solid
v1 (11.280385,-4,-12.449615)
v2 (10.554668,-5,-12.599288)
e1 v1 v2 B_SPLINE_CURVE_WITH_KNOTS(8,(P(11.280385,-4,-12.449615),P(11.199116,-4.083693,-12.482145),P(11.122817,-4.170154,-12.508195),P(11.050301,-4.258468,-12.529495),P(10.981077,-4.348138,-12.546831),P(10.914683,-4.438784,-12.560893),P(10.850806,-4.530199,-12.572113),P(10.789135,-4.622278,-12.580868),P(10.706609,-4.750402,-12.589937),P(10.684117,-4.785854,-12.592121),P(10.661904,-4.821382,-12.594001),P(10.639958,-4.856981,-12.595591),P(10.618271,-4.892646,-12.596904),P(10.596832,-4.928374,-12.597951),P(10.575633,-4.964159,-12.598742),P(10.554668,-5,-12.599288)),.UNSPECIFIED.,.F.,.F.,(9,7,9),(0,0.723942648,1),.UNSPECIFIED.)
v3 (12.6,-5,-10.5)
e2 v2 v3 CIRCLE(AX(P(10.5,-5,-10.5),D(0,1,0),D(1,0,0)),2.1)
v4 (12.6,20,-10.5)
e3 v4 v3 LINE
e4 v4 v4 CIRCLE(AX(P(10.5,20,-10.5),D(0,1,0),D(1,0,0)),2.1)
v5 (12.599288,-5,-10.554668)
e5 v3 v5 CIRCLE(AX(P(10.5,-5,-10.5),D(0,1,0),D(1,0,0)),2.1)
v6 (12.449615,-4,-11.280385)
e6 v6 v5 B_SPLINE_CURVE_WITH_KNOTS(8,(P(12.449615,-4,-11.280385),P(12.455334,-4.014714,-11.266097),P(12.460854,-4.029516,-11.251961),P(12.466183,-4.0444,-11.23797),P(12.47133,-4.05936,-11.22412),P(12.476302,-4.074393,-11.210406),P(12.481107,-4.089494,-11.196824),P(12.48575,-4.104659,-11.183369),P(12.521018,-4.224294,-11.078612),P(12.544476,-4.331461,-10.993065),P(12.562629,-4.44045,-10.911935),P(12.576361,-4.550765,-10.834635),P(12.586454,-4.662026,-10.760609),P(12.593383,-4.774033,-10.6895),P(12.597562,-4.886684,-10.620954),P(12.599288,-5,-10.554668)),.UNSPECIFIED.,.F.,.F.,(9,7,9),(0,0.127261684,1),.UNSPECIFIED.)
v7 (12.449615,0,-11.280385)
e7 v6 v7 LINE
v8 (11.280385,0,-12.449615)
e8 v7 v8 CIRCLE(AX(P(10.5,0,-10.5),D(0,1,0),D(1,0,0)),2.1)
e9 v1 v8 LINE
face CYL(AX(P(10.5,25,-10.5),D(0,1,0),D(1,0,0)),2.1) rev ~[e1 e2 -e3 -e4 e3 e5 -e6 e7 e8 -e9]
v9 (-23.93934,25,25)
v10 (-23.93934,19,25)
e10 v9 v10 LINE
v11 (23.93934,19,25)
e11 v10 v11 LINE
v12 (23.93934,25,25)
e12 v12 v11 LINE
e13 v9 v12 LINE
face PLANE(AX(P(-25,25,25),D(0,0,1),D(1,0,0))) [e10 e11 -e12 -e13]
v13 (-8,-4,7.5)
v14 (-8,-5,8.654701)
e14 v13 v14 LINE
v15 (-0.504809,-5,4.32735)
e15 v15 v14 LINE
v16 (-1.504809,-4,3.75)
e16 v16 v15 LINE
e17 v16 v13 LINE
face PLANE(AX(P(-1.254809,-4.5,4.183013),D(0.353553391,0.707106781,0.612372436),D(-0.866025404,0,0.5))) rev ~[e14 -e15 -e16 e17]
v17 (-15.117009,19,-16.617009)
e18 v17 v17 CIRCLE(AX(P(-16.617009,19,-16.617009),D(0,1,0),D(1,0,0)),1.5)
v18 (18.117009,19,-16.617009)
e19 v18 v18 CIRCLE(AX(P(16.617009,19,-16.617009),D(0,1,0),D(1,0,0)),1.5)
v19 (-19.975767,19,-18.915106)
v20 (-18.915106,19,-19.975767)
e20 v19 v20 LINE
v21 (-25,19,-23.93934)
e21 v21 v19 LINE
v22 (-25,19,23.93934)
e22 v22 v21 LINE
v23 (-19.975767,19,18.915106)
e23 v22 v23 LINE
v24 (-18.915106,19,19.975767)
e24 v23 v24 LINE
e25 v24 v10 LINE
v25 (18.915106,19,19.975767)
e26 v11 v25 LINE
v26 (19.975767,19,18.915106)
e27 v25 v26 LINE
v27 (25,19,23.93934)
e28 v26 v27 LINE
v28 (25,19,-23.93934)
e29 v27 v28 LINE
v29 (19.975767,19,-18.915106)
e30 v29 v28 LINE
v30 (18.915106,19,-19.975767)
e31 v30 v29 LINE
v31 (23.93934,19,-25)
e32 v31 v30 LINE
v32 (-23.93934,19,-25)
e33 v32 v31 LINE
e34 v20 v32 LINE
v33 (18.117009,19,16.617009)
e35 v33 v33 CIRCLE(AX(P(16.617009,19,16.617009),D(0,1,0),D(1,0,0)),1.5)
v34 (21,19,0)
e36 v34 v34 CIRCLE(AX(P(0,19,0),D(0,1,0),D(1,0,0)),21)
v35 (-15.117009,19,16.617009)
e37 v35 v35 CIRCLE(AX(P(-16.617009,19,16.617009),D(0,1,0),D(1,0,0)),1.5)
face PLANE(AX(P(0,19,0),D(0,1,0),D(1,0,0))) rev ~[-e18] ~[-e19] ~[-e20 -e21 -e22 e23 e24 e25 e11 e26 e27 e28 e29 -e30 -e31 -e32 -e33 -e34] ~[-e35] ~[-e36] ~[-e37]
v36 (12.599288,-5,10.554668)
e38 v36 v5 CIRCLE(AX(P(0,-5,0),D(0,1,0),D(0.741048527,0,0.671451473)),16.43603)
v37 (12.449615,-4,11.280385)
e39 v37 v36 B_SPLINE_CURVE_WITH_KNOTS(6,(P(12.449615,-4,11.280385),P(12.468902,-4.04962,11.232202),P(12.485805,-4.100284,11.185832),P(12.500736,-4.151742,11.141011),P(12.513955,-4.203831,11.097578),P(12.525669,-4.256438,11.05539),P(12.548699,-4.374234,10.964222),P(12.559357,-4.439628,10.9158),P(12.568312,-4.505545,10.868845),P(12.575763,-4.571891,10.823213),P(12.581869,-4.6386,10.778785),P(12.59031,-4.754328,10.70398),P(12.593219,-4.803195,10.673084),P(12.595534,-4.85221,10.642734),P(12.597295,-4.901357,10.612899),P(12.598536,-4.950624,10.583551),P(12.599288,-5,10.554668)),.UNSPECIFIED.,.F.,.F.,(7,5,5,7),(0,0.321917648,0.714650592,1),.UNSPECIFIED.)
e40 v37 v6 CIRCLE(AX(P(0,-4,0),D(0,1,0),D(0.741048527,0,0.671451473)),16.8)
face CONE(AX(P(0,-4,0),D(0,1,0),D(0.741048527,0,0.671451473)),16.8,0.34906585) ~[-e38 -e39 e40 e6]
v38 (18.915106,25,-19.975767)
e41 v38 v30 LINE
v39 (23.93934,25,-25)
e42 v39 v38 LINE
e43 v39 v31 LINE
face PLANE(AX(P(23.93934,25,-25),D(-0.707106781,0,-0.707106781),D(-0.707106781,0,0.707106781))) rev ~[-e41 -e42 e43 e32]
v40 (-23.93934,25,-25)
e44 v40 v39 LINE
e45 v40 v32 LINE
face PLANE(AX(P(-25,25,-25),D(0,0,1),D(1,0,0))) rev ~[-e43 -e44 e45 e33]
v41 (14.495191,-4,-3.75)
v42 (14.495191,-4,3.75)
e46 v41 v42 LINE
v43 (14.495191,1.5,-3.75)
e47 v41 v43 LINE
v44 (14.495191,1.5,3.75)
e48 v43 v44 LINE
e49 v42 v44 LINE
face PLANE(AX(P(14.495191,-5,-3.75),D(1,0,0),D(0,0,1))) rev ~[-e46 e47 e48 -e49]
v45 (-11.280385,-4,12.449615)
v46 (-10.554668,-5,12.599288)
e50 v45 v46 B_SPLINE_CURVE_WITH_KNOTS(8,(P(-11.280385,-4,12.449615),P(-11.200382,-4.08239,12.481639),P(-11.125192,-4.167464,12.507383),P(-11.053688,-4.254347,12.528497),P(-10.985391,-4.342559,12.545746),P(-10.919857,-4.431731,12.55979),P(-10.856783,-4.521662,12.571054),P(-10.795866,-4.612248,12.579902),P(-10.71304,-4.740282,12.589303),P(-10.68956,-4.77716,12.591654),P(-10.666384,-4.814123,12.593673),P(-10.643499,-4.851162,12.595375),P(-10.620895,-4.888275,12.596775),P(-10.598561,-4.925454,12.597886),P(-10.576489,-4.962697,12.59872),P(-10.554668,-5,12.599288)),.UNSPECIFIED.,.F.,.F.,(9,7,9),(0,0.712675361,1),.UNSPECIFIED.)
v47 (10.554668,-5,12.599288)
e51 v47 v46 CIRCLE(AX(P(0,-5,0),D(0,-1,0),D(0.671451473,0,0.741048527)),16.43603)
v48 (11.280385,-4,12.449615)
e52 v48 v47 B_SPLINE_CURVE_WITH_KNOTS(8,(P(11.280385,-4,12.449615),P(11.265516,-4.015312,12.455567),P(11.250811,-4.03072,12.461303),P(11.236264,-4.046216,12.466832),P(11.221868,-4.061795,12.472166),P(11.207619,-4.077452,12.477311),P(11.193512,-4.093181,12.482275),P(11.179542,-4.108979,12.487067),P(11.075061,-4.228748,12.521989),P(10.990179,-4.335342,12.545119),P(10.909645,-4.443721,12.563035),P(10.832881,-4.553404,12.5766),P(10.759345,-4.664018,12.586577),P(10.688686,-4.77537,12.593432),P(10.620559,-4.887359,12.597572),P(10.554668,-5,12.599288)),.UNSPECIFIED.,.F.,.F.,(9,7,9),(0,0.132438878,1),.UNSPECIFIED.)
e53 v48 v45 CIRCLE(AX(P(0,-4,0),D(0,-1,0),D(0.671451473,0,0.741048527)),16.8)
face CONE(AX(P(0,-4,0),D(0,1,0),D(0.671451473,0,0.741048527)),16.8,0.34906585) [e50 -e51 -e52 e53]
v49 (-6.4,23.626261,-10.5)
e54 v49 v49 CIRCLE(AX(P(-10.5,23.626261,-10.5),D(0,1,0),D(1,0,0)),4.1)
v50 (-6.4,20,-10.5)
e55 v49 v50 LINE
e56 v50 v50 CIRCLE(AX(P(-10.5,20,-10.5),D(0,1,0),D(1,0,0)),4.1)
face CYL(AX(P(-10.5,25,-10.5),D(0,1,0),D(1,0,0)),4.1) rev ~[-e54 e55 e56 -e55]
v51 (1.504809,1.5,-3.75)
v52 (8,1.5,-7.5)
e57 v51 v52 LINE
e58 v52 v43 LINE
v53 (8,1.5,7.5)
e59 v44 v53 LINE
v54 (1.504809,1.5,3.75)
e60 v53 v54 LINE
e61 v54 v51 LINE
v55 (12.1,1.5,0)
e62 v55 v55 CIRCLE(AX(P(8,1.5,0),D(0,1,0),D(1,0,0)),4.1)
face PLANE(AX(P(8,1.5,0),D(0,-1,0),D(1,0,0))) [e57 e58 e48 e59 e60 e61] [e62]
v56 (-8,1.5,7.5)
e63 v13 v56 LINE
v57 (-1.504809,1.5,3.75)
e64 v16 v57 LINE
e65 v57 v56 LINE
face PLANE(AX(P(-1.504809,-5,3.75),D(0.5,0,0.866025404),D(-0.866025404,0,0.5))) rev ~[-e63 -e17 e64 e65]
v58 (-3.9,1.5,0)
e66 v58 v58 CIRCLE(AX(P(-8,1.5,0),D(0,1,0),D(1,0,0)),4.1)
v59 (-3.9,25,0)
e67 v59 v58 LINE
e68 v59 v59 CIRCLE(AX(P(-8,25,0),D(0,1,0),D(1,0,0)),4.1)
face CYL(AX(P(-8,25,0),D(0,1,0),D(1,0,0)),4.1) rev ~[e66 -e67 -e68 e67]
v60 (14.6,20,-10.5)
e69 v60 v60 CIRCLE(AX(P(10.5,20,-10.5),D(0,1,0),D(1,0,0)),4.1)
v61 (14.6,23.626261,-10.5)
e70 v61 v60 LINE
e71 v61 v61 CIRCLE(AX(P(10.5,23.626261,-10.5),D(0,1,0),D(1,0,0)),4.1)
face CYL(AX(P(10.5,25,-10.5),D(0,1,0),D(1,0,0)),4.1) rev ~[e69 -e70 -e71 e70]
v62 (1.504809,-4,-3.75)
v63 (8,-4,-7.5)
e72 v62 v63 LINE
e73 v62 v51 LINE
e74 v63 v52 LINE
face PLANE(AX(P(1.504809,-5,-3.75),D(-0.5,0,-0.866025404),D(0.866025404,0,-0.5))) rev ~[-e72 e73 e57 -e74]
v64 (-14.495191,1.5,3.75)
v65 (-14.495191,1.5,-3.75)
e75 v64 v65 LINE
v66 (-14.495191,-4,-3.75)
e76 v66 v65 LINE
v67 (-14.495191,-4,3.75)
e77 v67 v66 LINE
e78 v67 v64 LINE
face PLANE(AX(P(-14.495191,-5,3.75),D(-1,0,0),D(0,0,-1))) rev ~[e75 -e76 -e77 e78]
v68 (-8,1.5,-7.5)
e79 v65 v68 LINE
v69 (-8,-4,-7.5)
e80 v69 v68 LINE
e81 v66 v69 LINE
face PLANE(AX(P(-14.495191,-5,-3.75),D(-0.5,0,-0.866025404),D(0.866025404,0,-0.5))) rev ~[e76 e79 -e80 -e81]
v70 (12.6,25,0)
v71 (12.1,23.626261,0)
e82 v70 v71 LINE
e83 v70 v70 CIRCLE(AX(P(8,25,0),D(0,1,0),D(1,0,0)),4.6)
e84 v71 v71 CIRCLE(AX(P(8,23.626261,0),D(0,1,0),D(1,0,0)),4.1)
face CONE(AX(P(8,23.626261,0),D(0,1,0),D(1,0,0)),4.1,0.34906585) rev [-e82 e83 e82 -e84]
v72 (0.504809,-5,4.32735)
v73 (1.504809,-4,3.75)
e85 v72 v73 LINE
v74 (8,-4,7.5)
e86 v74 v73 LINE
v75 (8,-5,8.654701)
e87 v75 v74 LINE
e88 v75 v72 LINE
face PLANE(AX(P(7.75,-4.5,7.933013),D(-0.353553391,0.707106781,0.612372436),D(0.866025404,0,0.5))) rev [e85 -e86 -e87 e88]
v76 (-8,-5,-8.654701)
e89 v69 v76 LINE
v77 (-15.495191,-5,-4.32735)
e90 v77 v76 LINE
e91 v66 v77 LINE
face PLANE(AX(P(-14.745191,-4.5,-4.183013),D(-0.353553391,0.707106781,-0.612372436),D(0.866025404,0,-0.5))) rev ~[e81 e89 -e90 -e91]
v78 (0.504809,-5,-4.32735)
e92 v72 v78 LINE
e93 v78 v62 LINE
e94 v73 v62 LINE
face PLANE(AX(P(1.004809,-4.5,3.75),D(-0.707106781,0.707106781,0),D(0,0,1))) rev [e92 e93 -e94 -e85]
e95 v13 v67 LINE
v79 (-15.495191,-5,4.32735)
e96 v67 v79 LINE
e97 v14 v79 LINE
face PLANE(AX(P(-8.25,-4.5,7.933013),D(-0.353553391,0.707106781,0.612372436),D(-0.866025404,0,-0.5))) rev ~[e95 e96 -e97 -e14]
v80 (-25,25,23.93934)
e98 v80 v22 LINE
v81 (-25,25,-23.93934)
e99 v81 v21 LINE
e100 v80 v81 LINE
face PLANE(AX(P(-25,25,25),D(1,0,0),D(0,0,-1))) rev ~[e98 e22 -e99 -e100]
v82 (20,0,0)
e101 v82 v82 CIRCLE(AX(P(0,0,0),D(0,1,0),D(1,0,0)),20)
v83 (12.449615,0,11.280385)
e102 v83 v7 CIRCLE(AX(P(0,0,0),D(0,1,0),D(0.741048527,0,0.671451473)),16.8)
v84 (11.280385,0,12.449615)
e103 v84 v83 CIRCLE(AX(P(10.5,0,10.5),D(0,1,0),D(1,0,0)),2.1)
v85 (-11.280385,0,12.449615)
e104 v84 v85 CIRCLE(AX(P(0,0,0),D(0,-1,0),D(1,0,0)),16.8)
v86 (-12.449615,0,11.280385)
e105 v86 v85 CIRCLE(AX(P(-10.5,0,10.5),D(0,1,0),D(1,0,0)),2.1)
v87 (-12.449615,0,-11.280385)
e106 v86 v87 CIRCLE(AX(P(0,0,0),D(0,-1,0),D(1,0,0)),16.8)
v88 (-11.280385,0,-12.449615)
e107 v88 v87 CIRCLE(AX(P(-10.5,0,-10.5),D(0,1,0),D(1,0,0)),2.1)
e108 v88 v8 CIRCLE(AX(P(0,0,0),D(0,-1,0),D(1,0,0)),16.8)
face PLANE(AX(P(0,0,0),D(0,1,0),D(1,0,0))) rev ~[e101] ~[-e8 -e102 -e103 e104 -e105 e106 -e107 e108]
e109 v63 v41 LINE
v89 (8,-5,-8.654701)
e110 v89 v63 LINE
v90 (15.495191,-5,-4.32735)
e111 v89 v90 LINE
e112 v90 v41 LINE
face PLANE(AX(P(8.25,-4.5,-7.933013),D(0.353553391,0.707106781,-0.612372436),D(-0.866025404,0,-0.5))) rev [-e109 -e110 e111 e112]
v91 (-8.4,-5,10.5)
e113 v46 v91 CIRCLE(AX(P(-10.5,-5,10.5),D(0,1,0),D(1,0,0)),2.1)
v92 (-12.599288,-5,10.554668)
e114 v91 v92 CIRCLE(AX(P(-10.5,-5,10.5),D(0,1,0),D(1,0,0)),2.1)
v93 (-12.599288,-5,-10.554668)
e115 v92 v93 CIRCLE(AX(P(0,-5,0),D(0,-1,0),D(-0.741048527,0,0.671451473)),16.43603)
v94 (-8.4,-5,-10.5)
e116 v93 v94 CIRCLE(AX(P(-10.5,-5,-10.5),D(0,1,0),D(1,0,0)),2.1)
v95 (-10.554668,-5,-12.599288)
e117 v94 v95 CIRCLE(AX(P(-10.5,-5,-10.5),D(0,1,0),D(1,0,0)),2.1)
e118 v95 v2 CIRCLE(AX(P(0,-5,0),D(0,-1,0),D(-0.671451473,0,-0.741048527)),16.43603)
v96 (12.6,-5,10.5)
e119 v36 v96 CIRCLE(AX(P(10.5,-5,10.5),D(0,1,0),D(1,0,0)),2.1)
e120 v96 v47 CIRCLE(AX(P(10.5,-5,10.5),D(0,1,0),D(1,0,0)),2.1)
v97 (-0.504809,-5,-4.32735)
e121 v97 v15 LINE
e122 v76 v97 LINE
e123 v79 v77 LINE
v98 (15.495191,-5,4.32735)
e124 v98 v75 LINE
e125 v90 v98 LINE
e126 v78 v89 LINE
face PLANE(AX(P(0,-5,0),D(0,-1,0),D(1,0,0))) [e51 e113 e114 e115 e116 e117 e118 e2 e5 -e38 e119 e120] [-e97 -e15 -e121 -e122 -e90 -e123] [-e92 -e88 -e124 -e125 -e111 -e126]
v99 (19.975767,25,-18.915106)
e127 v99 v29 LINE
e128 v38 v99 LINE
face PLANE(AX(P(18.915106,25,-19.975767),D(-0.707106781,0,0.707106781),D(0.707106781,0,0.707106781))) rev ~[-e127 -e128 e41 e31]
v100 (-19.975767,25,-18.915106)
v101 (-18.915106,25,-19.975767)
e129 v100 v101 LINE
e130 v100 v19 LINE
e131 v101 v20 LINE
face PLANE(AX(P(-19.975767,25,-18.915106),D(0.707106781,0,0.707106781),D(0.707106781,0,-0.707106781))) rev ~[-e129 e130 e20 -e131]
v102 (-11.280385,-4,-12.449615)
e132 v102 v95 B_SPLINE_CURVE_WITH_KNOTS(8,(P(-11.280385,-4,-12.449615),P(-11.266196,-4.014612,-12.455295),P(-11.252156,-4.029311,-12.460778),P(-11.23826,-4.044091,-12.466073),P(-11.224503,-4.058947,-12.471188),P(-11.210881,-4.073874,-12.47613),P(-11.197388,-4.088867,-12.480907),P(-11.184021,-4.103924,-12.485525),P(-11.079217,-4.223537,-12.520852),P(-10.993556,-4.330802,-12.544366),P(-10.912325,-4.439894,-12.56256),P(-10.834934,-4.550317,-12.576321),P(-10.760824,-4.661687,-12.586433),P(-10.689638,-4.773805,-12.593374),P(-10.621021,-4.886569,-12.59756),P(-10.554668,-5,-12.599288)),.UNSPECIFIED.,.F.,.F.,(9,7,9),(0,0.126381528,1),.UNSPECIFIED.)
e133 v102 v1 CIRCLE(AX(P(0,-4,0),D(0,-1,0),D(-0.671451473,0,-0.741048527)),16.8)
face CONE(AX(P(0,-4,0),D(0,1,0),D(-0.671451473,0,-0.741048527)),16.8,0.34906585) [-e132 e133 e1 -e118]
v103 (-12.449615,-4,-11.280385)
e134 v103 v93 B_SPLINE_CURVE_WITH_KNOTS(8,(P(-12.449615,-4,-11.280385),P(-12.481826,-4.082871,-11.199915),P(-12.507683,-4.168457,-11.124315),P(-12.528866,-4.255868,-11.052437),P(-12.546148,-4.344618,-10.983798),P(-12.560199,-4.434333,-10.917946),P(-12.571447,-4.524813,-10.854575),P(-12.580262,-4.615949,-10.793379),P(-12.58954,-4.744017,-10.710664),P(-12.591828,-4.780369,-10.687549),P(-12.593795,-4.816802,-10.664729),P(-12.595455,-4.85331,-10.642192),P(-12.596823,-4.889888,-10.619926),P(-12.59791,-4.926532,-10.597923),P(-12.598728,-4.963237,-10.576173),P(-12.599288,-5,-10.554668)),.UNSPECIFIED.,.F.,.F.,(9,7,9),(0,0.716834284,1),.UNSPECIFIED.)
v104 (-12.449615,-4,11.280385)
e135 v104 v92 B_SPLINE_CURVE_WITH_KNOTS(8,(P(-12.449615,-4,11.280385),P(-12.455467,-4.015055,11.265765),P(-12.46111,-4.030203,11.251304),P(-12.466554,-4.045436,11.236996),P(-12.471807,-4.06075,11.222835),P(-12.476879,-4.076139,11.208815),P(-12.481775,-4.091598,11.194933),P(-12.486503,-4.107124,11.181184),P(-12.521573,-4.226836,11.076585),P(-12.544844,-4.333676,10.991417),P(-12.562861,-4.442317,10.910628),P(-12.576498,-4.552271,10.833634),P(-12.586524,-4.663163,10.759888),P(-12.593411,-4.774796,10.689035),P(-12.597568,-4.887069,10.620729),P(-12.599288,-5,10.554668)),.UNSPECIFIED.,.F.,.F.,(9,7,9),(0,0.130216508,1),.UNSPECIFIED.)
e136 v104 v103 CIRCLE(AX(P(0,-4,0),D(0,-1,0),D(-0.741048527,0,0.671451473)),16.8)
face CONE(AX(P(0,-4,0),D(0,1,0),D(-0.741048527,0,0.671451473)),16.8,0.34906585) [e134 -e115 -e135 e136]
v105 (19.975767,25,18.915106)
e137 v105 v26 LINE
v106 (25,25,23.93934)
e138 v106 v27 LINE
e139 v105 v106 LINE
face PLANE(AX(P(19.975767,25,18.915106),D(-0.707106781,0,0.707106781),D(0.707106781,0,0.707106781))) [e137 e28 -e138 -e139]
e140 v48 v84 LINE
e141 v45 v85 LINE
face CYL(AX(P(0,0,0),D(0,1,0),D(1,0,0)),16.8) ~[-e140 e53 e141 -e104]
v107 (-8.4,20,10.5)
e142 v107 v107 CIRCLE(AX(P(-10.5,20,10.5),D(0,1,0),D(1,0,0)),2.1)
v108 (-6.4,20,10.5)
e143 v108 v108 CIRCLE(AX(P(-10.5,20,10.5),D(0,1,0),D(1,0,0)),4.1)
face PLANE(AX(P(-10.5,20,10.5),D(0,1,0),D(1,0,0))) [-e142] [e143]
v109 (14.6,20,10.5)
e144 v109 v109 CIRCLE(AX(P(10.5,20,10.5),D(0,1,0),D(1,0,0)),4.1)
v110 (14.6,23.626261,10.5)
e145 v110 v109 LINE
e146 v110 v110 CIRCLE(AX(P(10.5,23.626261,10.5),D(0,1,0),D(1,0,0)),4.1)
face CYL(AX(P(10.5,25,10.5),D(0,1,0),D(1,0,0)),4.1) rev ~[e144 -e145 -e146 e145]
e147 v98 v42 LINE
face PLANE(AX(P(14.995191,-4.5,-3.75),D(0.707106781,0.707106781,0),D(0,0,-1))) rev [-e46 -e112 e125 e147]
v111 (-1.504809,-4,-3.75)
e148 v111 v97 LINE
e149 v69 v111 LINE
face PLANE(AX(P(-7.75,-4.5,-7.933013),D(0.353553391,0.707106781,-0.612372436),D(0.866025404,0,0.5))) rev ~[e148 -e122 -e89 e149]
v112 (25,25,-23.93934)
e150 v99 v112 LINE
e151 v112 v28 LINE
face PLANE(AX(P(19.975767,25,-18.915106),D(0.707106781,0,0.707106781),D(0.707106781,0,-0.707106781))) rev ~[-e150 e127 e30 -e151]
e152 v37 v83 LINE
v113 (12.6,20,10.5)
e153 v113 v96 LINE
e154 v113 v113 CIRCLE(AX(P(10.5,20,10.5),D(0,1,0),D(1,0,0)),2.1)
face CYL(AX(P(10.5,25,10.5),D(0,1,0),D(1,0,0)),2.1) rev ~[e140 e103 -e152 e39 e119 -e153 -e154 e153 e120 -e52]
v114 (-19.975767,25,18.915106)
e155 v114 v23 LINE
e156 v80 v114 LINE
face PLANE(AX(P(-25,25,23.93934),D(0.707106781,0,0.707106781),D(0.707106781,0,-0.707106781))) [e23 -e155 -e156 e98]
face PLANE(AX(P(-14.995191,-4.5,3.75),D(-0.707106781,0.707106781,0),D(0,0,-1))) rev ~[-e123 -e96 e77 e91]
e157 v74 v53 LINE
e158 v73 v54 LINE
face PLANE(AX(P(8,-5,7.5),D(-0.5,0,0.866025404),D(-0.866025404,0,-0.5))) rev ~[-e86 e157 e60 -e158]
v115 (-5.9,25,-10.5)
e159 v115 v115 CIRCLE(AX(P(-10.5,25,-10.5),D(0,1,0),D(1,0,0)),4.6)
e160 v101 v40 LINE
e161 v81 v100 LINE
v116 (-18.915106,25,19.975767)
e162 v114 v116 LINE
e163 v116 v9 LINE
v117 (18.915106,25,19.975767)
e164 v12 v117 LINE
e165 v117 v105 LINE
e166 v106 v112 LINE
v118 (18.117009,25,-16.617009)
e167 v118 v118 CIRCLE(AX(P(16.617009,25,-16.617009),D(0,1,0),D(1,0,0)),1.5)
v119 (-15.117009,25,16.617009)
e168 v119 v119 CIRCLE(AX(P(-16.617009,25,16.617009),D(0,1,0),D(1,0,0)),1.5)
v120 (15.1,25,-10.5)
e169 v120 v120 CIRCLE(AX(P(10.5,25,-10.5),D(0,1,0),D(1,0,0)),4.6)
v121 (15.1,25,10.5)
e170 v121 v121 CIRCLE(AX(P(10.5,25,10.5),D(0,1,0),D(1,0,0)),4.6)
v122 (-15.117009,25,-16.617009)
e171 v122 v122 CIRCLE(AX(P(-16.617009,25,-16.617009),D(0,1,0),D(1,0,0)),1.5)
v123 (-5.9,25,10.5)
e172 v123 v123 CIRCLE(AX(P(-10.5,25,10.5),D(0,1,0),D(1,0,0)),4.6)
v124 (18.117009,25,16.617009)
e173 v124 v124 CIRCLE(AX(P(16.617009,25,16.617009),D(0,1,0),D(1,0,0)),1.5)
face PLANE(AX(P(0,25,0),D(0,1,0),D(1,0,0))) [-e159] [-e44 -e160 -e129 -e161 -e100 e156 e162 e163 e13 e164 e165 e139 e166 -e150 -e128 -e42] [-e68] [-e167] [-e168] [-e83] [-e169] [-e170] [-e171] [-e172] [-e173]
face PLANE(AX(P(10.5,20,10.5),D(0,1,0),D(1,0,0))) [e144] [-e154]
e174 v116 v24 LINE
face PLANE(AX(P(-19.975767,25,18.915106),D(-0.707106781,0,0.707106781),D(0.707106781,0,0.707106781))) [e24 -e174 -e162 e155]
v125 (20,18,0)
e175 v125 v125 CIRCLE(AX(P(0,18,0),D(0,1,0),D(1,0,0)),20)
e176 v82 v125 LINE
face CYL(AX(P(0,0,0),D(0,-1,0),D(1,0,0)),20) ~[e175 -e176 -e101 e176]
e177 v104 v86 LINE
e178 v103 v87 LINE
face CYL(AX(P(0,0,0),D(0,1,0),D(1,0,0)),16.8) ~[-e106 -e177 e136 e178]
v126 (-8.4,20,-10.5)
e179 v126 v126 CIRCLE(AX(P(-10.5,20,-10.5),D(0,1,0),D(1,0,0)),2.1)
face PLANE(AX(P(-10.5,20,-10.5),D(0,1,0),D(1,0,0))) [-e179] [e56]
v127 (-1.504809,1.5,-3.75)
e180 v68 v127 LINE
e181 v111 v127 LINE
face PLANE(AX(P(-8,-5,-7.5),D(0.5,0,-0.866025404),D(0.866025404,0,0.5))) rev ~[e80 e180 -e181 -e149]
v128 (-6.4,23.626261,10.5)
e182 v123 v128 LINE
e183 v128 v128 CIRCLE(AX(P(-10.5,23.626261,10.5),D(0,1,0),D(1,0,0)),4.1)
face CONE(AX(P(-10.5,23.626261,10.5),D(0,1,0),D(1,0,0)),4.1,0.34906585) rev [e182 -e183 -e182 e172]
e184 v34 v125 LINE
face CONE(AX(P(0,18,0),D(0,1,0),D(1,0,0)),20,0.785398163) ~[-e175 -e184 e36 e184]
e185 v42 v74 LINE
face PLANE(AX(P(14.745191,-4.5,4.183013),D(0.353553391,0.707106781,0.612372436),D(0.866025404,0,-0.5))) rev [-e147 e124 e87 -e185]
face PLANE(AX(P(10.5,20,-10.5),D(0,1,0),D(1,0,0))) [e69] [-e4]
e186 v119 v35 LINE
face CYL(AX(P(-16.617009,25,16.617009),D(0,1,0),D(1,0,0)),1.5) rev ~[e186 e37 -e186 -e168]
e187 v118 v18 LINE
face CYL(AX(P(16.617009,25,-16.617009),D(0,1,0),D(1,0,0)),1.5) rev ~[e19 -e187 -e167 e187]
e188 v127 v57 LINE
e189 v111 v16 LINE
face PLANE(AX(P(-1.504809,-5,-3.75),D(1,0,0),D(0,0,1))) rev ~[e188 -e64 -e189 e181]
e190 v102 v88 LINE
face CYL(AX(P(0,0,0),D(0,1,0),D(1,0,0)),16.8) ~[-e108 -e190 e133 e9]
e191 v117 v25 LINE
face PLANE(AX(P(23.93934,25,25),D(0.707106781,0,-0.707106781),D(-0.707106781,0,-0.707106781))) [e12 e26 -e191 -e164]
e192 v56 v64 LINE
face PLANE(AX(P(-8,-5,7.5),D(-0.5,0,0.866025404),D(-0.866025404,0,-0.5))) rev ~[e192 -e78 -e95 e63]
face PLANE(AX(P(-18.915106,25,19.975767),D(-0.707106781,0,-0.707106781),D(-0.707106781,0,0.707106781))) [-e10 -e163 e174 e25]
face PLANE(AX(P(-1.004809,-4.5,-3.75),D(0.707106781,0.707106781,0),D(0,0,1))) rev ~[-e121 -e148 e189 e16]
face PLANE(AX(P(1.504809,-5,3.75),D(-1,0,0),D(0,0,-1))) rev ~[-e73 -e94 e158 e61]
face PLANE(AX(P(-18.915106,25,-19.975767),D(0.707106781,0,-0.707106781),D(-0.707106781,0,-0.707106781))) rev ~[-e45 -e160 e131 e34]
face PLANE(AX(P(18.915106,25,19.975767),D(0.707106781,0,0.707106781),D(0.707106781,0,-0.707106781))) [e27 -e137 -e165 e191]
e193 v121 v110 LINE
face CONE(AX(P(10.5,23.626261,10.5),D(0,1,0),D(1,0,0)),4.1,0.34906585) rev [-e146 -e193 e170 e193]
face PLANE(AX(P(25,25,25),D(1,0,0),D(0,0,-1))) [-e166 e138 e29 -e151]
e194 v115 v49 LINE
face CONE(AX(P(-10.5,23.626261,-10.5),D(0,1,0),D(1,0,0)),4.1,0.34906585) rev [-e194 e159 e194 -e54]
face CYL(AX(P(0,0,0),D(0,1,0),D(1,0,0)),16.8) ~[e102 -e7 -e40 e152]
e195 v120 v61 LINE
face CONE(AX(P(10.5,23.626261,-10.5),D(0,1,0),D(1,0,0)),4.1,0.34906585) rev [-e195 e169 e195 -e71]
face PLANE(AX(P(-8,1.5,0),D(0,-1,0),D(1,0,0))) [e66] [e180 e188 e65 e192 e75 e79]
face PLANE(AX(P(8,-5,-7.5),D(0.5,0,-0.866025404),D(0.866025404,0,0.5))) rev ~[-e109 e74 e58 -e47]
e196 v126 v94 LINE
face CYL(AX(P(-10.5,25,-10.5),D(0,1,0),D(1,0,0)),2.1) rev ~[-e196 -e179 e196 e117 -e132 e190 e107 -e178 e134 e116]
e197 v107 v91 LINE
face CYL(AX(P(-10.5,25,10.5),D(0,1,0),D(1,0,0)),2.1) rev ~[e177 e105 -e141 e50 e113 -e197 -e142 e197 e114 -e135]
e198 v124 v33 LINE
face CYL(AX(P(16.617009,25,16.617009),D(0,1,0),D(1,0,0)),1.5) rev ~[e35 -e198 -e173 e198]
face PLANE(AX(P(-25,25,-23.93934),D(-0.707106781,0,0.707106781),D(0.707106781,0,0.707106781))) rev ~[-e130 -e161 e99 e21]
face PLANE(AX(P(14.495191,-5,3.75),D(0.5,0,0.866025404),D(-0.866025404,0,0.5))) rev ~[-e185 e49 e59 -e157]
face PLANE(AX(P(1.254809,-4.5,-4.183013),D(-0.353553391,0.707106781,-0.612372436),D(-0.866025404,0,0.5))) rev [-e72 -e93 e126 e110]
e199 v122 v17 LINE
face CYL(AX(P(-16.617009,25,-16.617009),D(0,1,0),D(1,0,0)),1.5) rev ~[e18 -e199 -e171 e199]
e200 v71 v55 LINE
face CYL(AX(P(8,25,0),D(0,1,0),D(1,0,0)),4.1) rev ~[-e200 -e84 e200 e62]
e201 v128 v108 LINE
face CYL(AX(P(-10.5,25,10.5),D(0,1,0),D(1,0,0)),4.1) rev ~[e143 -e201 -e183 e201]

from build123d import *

# Parameters (mm, degrees)
SKETCH1_R             = 20
BOSS_EXTRUDE1_DEPTH   = 25
SKETCH3_R             = 16.8
BOSS_EXTRUDE2_DEPTH   = 5
SKETCH4_R             = 4.1
CUT_EXTRUDE1_DEPTH    = 31
SKETCH6_R             = 2.1
CUT_EXTRUDE2_DEPTH    = 31
CHAMFER1_SIZE         = 1
CHAMFER1_SIZE2        = 0.363970234
CHAMFER1_PART_2_SIZE  = 1
CHAMFER1_PART_2_SIZE2 = 0.363970234
CHAMFER1_PART_3_SIZE  = 1
CHAMFER1_PART_3_SIZE2 = 0.363970234
CHAMFER1_PART_4_SIZE  = 1
CHAMFER1_PART_4_SIZE2 = 0.363970234
SKETCH7_R             = 4.1
CUT_EXTRUDE3_DEPTH    = 5
CHAMFER2_SIZE         = 0.5
CHAMFER2_SIZE2        = 1.37373871
SKETCH8_W             = 50
SKETCH8_H             = 50
SKETCH8_R             = 20
SKETCH8_R_2           = 1.5
BOSS_EXTRUDE3_DEPTH   = 6
CUT_EXTRUDE4_DEPTH    = 31.0000001
CHAMFER3_SIZE         = 0.5
CHAMFER3_SIZE2        = 1.37373871
CUT_EXTRUDE5_DEPTH    = 6.5
CHAMFER4_SIZE         = 1


with BuildPart() as part:
    # Sketch1 → Boss-Extrude1 (new body)
    with BuildSketch(Plane(origin=(0, 0, 0), x_dir=(1, 0, 0), z_dir=(0, 1, 0))):
        Circle(SKETCH1_R)
    extrude(amount=BOSS_EXTRUDE1_DEPTH)

    # Sketch3 → Boss-Extrude2 (add)
    with BuildSketch(Plane.XZ):
        Circle(SKETCH3_R)
    extrude(amount=BOSS_EXTRUDE2_DEPTH)

    # Sketch4 → Cut-Extrude1 (cut, through all)
    with BuildSketch(Plane(origin=(0, 25, 0), x_dir=(1, 0, 0), z_dir=(0, 1, 0))):
        with Locations((8, 0)):
            Circle(SKETCH4_R)
        with Locations((-8, 0)):
            Circle(SKETCH4_R)
    extrude(amount=-CUT_EXTRUDE1_DEPTH, mode=Mode.SUBTRACT)

    # Sketch6 → Cut-Extrude2 (cut, through all)
    with BuildSketch(Plane(origin=(0, 25, 0), x_dir=(1, 0, 0), z_dir=(0, 1, 0))):
        with Locations((10.5, -10.5)):
            Circle(SKETCH6_R)
        with Locations((-10.5, -10.5)):
            Circle(SKETCH6_R)
        with Locations((-10.5, 10.5)):
            Circle(SKETCH6_R)
        with Locations((10.5, 10.5)):
            Circle(SKETCH6_R)
    extrude(amount=-CUT_EXTRUDE2_DEPTH, mode=Mode.SUBTRACT)

    # Chamfer1
    chamfer1_edges = [part.edges().sort_by_distance(p)[0] for p in [
        (0, -5, 16.8),
    ]]
    chamfer1_side = [part.faces().sort_by_distance(p)[0] for p in [
        (0, -2.5, 16.8),
    ]]
    chamfer(chamfer1_edges, length=CHAMFER1_SIZE, length2=CHAMFER1_SIZE2, reference=chamfer1_side[0])

    # Chamfer1 part 2
    chamfer1_part_2_edges = [part.edges().sort_by_distance(p)[0] for p in [
        (-16.8, -5, 0),
    ]]
    chamfer1_part_2_side = [part.faces().sort_by_distance(p)[0] for p in [
        (-16.8, -2.5, 0),
    ]]
    chamfer(chamfer1_part_2_edges, length=CHAMFER1_PART_2_SIZE, length2=CHAMFER1_PART_2_SIZE2, reference=chamfer1_part_2_side[0])

    # Chamfer1 part 3
    chamfer1_part_3_edges = [part.edges().sort_by_distance(p)[0] for p in [
        (0, -5, -16.8),
    ]]
    chamfer1_part_3_side = [part.faces().sort_by_distance(p)[0] for p in [
        (0, -2.5, -16.8),
    ]]
    chamfer(chamfer1_part_3_edges, length=CHAMFER1_PART_3_SIZE, length2=CHAMFER1_PART_3_SIZE2, reference=chamfer1_part_3_side[0])

    # Chamfer1 part 4
    chamfer1_part_4_edges = [part.edges().sort_by_distance(p)[0] for p in [
        (16.8, -5, 0),
    ]]
    chamfer1_part_4_side = [part.faces().sort_by_distance(p)[0] for p in [
        (16.8, -2.5, 0),
    ]]
    chamfer(chamfer1_part_4_edges, length=CHAMFER1_PART_4_SIZE, length2=CHAMFER1_PART_4_SIZE2, reference=chamfer1_part_4_side[0])

    # Sketch7 → Cut-Extrude3 (cut)
    with BuildSketch(Plane(origin=(0, 25, 0), x_dir=(1, 0, 0), z_dir=(0, 1, 0))):
        with Locations((10.5, 10.5)):
            Circle(SKETCH7_R)
        with Locations((-10.5, 10.5)):
            Circle(SKETCH7_R)
        with Locations((-10.5, -10.5)):
            Circle(SKETCH7_R)
        with Locations((10.5, -10.5)):
            Circle(SKETCH7_R)
    extrude(amount=-CUT_EXTRUDE3_DEPTH, mode=Mode.SUBTRACT)

    # Chamfer2
    chamfer2_edges = [part.edges().sort_by_distance(p)[0] for p in [
        (3.9, 25, 0),
    ]]
    chamfer2_side = [part.faces().sort_by_distance(p)[0] for p in [
        (0, 25, 0),
    ]]
    chamfer(chamfer2_edges, length=CHAMFER2_SIZE, length2=CHAMFER2_SIZE2, reference=chamfer2_side[0])

    # Sketch8 → Boss-Extrude3 (add)
    with BuildSketch(Plane(origin=(0, 25, 0), x_dir=(1, 0, 0), z_dir=(0, 1, 0))):
        Rectangle(SKETCH8_W, SKETCH8_H)
        Circle(SKETCH8_R, mode=Mode.SUBTRACT)
        with Locations((-16.617009358, -16.617009358)):
            Circle(SKETCH8_R_2, mode=Mode.SUBTRACT)
        with Locations((-16.617009358, 16.617009358)):
            Circle(SKETCH8_R_2, mode=Mode.SUBTRACT)
        with Locations((16.617009358, 16.617009358)):
            Circle(SKETCH8_R_2, mode=Mode.SUBTRACT)
        with Locations((16.617009358, -16.617009358)):
            Circle(SKETCH8_R_2, mode=Mode.SUBTRACT)
    extrude(amount=-BOSS_EXTRUDE3_DEPTH)

    # Sketch10 → Cut-Extrude4 (cut, through all)
    with BuildSketch(Plane(origin=(0, 25, 0), x_dir=(1, 0, 0), z_dir=(0, 1, 0))):
        Polygon((-19.975766569, -18.915106397), (-18.915106397, -19.975766569), (-23.939339828, -25), (-25, -25), (-25, -23.939339828), align=None)
        Polygon((-25, 23.939339828), (-19.975766569, 18.915106397), (-18.915106397, 19.975766569), (-23.939339828, 25), (-25, 25), align=None)
        Polygon((23.939339828, 25), (18.915106397, 19.975766569), (19.975766569, 18.915106397), (25, 23.939339828), (25, 25), align=None)
        Polygon((18.915106397, -19.975766569), (19.975766569, -18.915106397), (25, -23.939339828), (25, -25), (23.939339828, -25), align=None)
    extrude(amount=-CUT_EXTRUDE4_DEPTH, mode=Mode.SUBTRACT)

    # Chamfer3
    chamfer3_edges = [part.edges().sort_by_distance(p)[0] for p in [
        (6.4, 25, -10.5),
        (-14.6, 25, -10.5),
        (-14.6, 25, 10.5),
        (6.4, 25, 10.5),
    ]]
    chamfer3_side = [part.faces().sort_by_distance(p)[0] for p in [
        (-0.052152151, 25, 0),
    ]]
    chamfer(chamfer3_edges, length=CHAMFER3_SIZE, length2=CHAMFER3_SIZE2, reference=chamfer3_side[0])

    # Sketch11 → Cut-Extrude5 (cut)
    with BuildSketch(Plane.XZ.offset(5)):
        Polygon((-8, 7.5), (-14.495190528, 3.75), (-14.495190528, -3.75), (-8, -7.5), (-1.504809472, -3.75), (-1.504809472, 3.75), align=None)
        Polygon((8, 7.5), (1.504809472, 3.75), (1.504809472, -3.75), (8, -7.5), (14.495190528, -3.75), (14.495190528, 3.75), align=None)
    extrude(amount=-CUT_EXTRUDE5_DEPTH, mode=Mode.SUBTRACT)

    # Chamfer4
    chamfer4_edges = [part.edges().sort_by_distance(p)[0] for p in [
        (-20, 19, 0),
        (-4.752404736, -5, 5.625),
        (-11.247595264, -5, 5.625),
        (-14.495190528, -5, 0),
        (-11.247595264, -5, -5.625),
        (-4.752404736, -5, -5.625),
        (-1.504809472, -5, 0),
        (11.247595264, -5, 5.625),
        (4.752404736, -5, 5.625),
        (1.504809472, -5, 0),
        (4.752404736, -5, -5.625),
        (11.247595264, -5, -5.625),
        (14.495190528, -5, 0),
    ]]
    chamfer(chamfer4_edges, length=CHAMFER4_SIZE)


solid = part.part
